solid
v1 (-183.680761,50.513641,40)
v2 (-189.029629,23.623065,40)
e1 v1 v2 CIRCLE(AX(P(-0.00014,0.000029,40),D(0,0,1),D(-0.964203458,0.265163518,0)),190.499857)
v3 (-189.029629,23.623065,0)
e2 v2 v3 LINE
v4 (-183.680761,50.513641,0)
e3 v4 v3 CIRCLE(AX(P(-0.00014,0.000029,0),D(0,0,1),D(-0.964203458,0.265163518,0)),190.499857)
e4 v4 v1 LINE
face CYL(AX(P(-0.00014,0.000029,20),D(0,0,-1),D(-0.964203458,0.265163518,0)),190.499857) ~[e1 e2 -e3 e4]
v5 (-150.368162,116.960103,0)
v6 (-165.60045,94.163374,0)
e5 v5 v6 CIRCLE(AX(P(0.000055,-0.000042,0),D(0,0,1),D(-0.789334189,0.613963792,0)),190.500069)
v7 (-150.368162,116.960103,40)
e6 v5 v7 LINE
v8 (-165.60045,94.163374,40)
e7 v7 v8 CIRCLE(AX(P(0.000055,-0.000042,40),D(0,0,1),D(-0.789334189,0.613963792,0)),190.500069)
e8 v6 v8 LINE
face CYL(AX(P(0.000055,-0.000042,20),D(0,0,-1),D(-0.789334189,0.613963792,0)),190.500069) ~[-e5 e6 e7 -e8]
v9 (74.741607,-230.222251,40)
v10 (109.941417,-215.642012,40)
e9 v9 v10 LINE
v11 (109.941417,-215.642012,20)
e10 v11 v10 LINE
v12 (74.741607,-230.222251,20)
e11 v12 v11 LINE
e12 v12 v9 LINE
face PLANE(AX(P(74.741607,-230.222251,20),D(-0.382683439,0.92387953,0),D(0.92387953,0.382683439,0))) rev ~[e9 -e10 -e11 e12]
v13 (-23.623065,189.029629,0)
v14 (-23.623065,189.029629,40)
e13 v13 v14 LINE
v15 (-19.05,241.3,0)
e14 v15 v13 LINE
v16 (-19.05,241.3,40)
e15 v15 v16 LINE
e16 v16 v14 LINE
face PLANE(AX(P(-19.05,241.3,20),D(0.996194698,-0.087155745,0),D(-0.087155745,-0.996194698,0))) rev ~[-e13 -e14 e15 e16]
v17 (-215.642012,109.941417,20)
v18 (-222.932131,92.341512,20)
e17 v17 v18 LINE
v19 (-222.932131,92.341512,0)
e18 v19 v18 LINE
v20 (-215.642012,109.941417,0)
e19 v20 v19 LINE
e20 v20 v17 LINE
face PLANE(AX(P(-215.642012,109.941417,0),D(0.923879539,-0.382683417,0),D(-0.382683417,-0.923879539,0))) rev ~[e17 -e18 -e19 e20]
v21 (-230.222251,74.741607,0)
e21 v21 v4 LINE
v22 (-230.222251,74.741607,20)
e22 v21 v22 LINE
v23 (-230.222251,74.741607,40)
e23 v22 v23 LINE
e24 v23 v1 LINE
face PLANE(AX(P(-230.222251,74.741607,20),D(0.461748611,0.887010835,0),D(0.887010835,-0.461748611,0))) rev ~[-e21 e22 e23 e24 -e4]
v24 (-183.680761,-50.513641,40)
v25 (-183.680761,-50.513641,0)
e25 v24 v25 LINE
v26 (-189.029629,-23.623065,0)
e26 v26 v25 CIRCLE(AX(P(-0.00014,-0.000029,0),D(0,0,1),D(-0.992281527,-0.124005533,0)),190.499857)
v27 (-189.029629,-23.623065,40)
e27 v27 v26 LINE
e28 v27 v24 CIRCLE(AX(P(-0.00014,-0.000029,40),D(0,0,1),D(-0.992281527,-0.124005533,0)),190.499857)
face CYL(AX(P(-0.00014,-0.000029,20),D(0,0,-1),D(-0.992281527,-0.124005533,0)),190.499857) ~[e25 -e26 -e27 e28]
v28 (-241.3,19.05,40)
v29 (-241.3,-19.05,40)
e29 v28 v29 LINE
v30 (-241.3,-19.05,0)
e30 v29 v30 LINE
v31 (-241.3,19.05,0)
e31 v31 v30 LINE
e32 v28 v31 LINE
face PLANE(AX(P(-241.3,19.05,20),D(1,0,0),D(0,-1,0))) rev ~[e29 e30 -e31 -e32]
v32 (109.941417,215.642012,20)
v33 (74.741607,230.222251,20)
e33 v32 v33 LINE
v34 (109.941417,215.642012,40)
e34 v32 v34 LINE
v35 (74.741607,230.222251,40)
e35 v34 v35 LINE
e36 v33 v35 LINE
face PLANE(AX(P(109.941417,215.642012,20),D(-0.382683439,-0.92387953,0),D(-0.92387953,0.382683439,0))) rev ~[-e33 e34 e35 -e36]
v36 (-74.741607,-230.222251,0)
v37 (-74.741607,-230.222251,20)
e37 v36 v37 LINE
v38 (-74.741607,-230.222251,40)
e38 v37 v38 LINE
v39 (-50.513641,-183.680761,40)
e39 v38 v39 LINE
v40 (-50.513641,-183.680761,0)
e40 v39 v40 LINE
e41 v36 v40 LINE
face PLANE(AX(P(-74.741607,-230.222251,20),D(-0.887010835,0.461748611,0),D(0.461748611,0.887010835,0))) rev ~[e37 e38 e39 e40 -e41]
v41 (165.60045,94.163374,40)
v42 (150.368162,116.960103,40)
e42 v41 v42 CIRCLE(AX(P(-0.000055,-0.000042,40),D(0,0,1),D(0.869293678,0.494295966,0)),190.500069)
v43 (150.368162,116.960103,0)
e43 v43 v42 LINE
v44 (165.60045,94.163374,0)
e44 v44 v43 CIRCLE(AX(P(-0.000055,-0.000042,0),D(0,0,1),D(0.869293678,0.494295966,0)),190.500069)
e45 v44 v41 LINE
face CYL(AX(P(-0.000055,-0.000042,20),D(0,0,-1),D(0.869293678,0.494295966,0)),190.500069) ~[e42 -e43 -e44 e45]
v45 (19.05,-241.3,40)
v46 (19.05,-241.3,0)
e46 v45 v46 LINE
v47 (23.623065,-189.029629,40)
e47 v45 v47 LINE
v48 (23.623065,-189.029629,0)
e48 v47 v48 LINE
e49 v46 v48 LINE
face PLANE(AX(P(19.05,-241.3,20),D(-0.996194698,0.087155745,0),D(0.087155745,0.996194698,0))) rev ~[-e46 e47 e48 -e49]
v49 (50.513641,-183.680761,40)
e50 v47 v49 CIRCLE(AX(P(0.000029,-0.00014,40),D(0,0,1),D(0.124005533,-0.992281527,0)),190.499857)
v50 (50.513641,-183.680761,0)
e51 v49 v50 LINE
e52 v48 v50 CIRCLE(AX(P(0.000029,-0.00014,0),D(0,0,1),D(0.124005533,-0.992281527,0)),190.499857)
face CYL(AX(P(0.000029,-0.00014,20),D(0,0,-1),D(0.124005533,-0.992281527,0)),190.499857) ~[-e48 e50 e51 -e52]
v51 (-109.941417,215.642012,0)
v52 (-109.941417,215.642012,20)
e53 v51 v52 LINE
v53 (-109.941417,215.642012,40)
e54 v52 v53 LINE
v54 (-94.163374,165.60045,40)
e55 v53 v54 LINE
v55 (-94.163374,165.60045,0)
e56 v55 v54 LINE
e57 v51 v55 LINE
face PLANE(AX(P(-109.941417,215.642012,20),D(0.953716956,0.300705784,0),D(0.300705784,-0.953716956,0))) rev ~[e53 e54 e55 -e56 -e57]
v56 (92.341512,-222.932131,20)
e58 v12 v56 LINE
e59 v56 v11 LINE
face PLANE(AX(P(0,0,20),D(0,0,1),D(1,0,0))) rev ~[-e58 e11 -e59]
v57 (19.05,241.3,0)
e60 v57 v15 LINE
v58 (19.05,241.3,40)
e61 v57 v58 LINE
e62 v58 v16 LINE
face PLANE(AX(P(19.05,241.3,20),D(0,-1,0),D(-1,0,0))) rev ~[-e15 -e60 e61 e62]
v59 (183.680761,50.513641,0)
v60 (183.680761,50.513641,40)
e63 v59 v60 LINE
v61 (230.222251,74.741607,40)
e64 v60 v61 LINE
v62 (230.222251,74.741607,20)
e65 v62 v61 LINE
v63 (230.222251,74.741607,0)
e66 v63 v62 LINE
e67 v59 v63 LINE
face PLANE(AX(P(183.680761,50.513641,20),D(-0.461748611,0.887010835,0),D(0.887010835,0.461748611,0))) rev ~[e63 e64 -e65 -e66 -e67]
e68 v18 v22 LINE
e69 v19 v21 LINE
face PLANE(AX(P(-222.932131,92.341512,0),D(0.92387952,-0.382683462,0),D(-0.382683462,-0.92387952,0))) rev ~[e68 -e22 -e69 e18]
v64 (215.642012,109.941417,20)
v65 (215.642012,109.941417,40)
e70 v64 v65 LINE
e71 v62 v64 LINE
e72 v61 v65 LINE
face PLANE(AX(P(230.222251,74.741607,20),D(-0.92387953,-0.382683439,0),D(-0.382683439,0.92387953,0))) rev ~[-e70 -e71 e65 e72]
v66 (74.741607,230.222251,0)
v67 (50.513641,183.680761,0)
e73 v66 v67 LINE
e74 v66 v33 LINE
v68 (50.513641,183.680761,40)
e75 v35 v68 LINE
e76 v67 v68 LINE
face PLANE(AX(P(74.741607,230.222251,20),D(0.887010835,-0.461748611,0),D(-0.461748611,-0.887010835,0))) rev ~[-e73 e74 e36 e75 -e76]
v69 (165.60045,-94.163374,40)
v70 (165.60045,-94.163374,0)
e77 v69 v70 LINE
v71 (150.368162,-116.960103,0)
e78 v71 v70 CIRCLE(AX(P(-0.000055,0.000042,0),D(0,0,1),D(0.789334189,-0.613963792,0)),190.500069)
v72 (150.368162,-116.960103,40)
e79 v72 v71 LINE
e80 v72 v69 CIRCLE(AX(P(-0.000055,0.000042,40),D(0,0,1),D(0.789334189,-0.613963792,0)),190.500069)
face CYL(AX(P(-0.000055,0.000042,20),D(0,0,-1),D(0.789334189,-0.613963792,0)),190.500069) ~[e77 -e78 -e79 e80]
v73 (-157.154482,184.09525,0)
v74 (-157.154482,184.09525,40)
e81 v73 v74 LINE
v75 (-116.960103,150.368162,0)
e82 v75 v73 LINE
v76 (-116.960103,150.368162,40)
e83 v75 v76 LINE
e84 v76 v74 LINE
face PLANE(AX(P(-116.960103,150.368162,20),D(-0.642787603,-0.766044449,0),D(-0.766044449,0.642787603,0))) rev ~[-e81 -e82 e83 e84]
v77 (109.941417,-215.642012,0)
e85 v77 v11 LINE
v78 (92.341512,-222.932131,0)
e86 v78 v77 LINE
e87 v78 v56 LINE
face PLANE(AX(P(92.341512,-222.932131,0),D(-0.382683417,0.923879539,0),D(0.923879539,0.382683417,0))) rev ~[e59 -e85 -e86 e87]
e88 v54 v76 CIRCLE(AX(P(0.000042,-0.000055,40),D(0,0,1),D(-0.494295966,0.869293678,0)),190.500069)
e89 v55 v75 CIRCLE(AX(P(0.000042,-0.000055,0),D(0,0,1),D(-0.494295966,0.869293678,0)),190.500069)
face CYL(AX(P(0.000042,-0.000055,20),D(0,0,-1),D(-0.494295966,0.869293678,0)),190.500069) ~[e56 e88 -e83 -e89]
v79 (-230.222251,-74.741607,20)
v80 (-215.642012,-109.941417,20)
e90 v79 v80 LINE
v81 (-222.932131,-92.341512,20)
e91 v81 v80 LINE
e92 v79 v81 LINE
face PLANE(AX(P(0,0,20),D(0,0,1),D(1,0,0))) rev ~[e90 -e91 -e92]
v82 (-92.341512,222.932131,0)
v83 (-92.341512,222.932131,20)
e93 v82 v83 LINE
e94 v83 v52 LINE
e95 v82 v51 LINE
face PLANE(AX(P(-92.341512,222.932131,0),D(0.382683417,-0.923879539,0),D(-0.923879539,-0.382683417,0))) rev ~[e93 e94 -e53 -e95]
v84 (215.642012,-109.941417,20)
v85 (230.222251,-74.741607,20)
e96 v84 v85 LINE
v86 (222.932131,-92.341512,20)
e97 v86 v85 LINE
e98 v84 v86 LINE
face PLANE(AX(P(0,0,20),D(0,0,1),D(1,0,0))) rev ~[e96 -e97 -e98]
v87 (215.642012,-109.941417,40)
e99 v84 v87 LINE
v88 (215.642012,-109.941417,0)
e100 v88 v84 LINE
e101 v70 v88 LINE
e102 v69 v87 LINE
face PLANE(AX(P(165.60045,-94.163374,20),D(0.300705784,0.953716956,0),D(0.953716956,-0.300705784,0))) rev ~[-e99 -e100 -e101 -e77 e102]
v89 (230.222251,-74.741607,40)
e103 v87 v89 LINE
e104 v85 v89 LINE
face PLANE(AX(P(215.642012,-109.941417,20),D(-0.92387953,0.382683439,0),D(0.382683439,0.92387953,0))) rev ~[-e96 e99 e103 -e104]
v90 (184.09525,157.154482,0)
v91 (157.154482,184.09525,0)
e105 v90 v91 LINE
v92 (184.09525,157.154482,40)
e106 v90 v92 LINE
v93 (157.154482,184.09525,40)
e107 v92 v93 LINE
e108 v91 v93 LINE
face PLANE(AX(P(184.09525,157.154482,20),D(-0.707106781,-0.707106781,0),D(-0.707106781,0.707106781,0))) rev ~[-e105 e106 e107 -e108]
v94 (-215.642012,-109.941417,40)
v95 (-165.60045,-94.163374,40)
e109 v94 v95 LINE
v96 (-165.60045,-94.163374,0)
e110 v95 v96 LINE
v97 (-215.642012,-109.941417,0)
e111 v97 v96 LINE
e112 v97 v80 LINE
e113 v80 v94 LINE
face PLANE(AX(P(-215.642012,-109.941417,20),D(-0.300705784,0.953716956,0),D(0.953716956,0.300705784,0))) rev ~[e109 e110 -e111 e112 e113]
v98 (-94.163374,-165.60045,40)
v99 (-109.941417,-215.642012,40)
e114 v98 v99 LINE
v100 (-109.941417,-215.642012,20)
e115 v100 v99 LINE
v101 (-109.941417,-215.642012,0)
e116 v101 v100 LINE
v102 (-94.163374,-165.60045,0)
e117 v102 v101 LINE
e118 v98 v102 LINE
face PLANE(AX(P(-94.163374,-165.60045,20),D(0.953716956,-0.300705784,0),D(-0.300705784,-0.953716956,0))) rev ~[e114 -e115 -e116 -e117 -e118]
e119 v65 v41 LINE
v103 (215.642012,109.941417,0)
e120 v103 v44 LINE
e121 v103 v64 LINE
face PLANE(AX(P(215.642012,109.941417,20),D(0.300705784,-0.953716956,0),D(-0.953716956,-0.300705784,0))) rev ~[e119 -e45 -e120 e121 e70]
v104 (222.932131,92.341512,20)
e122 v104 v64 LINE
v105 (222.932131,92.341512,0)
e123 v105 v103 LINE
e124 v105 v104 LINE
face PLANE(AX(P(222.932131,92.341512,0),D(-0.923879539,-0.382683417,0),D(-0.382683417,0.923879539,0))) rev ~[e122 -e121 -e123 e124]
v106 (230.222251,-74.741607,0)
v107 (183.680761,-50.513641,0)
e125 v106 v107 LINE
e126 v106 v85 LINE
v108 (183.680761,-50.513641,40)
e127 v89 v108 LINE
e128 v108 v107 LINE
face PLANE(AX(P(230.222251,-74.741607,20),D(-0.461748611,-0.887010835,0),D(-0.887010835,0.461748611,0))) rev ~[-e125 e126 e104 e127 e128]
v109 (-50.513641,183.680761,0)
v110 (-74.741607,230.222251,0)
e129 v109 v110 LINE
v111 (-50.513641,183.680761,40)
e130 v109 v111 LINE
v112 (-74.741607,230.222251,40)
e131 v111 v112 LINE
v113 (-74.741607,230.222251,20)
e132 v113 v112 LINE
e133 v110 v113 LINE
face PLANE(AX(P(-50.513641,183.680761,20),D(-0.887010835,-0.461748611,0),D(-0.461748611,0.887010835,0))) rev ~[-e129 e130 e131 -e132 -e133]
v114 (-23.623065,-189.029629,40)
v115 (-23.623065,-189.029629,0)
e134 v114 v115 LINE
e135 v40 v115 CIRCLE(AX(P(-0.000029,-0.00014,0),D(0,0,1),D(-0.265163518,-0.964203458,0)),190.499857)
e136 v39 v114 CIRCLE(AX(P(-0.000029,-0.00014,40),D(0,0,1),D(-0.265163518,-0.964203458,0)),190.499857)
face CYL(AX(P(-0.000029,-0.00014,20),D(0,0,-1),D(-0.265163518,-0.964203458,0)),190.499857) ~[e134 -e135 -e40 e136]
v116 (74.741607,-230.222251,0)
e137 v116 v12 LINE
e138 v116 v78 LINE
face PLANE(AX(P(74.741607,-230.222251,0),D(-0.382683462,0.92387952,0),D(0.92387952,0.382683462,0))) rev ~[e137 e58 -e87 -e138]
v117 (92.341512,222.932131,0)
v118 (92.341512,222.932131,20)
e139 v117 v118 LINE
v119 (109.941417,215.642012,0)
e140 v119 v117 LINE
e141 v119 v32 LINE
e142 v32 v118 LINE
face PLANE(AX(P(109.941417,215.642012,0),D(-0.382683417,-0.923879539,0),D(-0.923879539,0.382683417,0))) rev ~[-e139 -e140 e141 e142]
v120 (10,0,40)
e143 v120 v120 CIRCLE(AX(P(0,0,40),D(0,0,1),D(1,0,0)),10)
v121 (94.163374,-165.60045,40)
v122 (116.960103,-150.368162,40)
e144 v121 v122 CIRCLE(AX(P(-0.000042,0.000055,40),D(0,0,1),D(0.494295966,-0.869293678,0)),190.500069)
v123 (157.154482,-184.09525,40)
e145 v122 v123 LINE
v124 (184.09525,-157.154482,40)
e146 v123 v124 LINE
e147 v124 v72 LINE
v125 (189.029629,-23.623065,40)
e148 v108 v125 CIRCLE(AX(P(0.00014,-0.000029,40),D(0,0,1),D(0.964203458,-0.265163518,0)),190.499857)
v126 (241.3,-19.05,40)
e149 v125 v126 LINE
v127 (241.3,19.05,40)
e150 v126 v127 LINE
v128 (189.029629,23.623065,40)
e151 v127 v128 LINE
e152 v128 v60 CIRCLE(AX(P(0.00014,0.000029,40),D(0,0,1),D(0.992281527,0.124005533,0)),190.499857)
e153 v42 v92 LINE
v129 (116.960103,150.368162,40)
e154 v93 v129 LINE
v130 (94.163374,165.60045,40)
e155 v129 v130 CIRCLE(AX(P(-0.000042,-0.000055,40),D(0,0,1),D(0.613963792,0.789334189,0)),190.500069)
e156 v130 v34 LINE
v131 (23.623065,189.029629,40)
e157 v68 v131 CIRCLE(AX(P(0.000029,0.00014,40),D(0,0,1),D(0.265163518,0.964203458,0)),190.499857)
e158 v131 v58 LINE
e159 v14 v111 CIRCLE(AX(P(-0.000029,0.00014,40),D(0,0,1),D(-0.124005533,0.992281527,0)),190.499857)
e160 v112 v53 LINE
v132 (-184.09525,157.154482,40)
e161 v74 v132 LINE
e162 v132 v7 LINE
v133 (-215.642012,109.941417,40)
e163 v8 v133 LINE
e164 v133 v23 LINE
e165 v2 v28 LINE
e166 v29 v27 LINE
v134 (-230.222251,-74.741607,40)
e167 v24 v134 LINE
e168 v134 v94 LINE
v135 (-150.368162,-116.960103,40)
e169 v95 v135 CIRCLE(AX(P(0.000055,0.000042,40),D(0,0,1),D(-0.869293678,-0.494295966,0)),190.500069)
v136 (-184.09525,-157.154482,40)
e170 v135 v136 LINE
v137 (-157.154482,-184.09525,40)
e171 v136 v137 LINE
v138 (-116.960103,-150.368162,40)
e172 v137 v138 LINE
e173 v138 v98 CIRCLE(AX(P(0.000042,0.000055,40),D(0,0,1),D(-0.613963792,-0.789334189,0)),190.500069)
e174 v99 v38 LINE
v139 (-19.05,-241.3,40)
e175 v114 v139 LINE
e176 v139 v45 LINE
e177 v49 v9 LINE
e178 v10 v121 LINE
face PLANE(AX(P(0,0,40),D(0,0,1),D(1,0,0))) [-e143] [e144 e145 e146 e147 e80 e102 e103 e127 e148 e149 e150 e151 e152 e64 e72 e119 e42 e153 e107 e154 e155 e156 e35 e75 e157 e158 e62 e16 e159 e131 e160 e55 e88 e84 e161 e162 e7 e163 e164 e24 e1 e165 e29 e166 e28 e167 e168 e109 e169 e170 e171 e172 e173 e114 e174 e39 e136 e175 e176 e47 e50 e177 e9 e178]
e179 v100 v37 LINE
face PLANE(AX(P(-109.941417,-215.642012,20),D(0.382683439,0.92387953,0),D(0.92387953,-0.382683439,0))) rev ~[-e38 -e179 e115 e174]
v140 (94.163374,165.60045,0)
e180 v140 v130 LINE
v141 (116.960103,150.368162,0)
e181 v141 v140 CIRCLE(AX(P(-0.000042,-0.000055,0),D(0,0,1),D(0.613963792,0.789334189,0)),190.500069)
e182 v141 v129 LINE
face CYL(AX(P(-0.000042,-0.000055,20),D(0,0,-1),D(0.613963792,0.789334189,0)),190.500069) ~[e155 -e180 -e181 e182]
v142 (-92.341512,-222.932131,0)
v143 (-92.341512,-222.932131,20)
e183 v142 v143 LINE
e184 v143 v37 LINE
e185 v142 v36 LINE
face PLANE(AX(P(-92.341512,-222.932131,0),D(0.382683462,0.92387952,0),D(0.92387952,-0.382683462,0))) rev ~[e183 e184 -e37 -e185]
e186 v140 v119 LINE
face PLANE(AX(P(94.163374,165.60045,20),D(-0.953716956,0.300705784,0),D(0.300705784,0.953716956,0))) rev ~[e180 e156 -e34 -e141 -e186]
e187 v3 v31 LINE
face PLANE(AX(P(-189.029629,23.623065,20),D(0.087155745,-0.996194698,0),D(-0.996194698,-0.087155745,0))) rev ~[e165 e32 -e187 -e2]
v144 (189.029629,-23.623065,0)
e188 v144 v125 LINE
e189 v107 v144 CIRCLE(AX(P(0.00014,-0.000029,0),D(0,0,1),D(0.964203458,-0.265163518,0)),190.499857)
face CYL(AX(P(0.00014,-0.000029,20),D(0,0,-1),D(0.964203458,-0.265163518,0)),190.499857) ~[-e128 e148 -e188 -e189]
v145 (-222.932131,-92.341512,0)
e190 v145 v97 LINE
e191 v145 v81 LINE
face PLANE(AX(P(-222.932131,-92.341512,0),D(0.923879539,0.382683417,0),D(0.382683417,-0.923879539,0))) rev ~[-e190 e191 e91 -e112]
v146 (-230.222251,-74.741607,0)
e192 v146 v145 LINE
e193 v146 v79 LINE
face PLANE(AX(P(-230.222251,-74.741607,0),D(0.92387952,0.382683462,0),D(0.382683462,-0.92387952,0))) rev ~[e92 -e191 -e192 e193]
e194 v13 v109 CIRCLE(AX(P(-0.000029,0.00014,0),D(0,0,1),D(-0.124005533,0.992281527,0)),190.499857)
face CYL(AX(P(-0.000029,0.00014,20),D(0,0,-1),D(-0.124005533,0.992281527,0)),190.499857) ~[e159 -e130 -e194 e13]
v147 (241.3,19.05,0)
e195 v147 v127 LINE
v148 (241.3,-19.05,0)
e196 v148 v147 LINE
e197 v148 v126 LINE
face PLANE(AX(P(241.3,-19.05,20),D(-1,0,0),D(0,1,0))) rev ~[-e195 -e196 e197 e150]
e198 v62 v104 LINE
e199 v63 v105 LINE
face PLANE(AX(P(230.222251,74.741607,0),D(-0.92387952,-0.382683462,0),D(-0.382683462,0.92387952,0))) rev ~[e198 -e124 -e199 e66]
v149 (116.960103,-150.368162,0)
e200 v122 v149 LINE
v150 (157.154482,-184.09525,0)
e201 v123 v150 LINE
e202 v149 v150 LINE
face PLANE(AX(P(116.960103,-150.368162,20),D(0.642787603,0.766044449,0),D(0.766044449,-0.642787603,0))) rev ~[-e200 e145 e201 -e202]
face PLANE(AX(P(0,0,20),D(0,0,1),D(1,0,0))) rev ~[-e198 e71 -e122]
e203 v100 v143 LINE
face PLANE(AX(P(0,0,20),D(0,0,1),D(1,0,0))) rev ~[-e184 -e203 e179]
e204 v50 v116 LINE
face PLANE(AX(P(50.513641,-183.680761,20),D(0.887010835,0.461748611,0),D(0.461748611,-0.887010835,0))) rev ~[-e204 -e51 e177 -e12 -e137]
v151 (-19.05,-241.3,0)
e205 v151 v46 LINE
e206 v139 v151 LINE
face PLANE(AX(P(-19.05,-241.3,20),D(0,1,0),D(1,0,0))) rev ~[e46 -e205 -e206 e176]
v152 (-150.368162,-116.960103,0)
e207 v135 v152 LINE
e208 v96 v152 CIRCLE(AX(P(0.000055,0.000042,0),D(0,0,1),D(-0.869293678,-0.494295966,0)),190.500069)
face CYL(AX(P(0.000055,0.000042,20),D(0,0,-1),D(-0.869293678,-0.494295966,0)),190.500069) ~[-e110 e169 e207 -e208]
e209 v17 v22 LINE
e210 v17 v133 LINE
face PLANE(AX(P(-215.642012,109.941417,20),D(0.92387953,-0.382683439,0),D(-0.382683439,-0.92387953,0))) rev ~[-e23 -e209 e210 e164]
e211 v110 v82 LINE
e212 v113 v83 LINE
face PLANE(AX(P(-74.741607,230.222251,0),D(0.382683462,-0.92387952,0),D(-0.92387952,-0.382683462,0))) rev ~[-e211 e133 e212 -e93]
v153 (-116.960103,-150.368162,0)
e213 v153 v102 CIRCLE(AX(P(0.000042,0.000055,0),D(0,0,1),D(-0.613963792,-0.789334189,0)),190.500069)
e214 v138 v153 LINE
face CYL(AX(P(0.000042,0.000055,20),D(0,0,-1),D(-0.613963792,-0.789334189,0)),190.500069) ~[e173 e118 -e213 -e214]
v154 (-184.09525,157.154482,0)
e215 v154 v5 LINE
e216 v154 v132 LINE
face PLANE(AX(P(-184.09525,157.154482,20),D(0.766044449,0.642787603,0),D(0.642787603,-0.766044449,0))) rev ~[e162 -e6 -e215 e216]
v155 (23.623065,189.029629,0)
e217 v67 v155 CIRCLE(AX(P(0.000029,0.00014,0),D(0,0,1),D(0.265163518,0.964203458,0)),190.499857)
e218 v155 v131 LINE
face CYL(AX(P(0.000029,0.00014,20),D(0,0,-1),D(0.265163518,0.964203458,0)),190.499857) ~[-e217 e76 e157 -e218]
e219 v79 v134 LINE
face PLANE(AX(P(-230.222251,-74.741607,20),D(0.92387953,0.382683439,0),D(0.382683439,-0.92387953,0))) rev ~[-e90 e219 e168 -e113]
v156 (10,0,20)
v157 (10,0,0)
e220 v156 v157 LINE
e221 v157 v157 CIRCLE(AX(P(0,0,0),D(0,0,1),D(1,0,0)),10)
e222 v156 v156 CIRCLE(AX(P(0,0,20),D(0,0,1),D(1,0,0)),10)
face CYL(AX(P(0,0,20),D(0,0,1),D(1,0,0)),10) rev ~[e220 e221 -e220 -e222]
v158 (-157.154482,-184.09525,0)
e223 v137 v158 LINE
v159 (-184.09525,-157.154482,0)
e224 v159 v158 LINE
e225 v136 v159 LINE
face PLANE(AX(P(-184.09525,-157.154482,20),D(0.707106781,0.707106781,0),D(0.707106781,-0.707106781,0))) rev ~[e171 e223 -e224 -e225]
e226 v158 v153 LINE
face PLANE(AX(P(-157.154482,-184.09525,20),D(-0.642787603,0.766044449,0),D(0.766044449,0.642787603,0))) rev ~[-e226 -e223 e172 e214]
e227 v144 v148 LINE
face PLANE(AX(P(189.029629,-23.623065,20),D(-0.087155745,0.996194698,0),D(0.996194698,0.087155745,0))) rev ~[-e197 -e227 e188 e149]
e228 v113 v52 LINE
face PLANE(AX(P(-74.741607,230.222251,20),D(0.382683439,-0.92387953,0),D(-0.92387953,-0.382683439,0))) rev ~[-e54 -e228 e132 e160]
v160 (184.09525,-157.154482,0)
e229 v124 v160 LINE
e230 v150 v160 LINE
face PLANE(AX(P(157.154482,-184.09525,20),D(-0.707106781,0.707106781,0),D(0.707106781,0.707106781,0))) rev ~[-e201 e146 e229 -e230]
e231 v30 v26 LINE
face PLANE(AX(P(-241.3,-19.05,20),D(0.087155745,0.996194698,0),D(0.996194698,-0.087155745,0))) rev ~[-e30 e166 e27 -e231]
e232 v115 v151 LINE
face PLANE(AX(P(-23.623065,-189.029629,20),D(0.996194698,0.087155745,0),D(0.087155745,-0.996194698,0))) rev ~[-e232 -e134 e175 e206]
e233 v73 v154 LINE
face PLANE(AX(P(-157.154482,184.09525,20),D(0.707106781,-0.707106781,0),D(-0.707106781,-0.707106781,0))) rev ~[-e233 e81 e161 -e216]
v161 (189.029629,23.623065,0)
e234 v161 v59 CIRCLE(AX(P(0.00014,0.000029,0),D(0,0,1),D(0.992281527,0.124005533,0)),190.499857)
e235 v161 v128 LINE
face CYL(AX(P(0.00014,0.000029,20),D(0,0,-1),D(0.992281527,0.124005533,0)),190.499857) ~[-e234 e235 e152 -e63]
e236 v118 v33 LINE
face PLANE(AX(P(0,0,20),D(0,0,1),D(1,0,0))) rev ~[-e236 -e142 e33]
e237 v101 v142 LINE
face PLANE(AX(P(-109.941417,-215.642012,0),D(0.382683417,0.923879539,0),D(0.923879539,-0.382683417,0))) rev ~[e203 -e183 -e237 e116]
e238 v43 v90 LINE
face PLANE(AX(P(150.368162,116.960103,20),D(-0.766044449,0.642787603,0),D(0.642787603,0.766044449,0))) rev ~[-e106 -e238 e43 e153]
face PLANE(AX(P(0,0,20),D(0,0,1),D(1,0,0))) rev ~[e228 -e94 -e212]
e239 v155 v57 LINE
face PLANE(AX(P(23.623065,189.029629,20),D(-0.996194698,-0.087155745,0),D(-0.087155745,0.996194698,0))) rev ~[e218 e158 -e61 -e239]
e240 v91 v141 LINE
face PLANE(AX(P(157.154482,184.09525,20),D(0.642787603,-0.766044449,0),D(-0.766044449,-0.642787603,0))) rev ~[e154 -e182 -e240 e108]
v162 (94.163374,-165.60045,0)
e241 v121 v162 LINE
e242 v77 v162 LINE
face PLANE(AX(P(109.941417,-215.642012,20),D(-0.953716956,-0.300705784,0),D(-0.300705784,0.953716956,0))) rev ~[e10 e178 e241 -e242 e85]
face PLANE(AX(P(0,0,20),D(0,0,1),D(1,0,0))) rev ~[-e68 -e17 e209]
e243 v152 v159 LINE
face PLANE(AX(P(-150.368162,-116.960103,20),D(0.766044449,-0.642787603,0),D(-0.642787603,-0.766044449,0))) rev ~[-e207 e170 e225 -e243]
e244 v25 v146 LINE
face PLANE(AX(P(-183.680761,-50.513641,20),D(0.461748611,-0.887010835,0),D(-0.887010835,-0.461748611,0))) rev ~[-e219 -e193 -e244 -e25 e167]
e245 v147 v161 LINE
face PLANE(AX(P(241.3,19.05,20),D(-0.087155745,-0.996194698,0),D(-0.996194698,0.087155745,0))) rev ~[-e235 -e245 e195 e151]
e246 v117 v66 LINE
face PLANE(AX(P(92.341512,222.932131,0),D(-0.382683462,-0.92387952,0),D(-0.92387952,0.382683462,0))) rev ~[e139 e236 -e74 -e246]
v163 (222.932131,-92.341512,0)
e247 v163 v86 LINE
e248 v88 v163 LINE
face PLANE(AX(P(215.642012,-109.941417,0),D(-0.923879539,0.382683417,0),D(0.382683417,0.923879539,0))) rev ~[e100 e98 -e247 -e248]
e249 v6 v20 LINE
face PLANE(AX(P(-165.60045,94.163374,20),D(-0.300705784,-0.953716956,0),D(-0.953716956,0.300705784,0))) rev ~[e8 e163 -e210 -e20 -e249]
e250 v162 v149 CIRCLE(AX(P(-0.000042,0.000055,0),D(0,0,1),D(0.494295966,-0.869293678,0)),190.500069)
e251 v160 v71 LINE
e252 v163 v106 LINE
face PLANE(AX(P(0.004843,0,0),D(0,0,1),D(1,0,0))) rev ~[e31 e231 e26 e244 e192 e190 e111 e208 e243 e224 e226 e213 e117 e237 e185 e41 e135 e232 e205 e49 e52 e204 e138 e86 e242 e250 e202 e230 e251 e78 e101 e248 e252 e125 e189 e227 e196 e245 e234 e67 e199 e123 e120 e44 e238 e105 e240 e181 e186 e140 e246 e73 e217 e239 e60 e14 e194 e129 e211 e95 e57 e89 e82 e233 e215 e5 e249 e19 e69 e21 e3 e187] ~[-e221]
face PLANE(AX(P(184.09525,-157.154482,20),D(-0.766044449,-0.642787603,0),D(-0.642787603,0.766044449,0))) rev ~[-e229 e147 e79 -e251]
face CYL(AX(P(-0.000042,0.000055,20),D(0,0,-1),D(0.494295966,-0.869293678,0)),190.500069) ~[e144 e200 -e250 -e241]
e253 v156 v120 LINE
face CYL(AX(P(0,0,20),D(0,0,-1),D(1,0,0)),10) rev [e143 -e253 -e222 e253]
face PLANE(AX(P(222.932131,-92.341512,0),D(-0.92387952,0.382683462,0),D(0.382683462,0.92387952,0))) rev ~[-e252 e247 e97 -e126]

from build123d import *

# Parameters (mm, degrees)
F1_DEPTH  = 20
F2_R      = 10
F3_DEPTH  = 20.001
F1_FACE_R = 10
F4_DEPTH  = 20


with BuildPart() as f1:
    # F0 (on Top) → F1 (new body)
    with BuildSketch(Plane.XY):
        with BuildLine():
            ThreePointArc((189.029629, -23.623065), (190.132052, -11.83439), (190.5, 0))
            ThreePointArc((190.5, 0), (190.132052, 11.83439), (189.029629, 23.623065))
            ThreePointArc((189.029629, 23.623065), (186.839596, 37.164706), (183.680761, 50.513641))
            ThreePointArc((183.680761, 50.513641), (175.999051, 72.901194), (165.60045, 94.163374))
            ThreePointArc((165.60045, 94.163374), (158.394961, 105.836129), (150.368162, 116.960103))
            ThreePointArc((150.368162, 116.960103), (134.703842, 134.703842), (116.960103, 150.368162))
            ThreePointArc((116.960103, 150.368162), (105.836129, 158.394961), (94.163374, 165.60045))
            ThreePointArc((94.163374, 165.60045), (72.901194, 175.999051), (50.513641, 183.680761))
            ThreePointArc((50.513641, 183.680761), (37.164706, 186.839596), (23.623065, 189.029629))
            ThreePointArc((23.623065, 189.029629), (0, 190.5), (-23.623065, 189.029629))
            ThreePointArc((-23.623065, 189.029629), (-37.164706, 186.839596), (-50.513641, 183.680761))
            ThreePointArc((-50.513641, 183.680761), (-72.901194, 175.999051), (-94.163374, 165.60045))
            ThreePointArc((-94.163374, 165.60045), (-105.836129, 158.394961), (-116.960103, 150.368162))
            ThreePointArc((-116.960103, 150.368162), (-134.703842, 134.703842), (-150.368162, 116.960103))
            ThreePointArc((-150.368162, 116.960103), (-158.394961, 105.836129), (-165.60045, 94.163374))
            ThreePointArc((-165.60045, 94.163374), (-175.999051, 72.901194), (-183.680761, 50.513641))
            ThreePointArc((-183.680761, 50.513641), (-186.839596, 37.164706), (-189.029629, 23.623065))
            ThreePointArc((-189.029629, 23.623065), (-190.5, 0), (-189.029629, -23.623065))
            ThreePointArc((-189.029629, -23.623065), (-186.839596, -37.164706), (-183.680761, -50.513641))
            ThreePointArc((-183.680761, -50.513641), (-175.999051, -72.901194), (-165.60045, -94.163374))
            ThreePointArc((-165.60045, -94.163374), (-158.394961, -105.836129), (-150.368162, -116.960103))
            ThreePointArc((-150.368162, -116.960103), (-134.703842, -134.703842), (-116.960103, -150.368162))
            ThreePointArc((-116.960103, -150.368162), (-105.836129, -158.394961), (-94.163374, -165.60045))
            ThreePointArc((-94.163374, -165.60045), (-72.901194, -175.999051), (-50.513641, -183.680761))
            ThreePointArc((-50.513641, -183.680761), (-37.164706, -186.839596), (-23.623065, -189.029629))
            ThreePointArc((-23.623065, -189.029629), (0, -190.5), (23.623065, -189.029629))
            ThreePointArc((23.623065, -189.029629), (37.164706, -186.839596), (50.513641, -183.680761))
            ThreePointArc((50.513641, -183.680761), (72.901194, -175.999051), (94.163374, -165.60045))
            ThreePointArc((94.163374, -165.60045), (105.836129, -158.394961), (116.960103, -150.368162))
            ThreePointArc((116.960103, -150.368162), (134.703842, -134.703842), (150.368162, -116.960103))
            ThreePointArc((150.368162, -116.960103), (158.394961, -105.836129), (165.60045, -94.163374))
            ThreePointArc((165.60045, -94.163374), (175.999051, -72.901194), (183.680761, -50.513641))
            ThreePointArc((183.680761, -50.513641), (186.839596, -37.164706), (189.029629, -23.623065))
        make_face()
        with BuildLine():
            ThreePointArc((189.029629, 23.623065), (190.132052, 11.83439), (190.5, 0))
            ThreePointArc((190.5, 0), (190.132052, -11.83439), (189.029629, -23.623065))
            Line((189.029629, -23.623065), (241.3, -19.05))
            Line((241.3, -19.05), (241.3, 0))
            Line((241.3, 0), (241.3, 19.05))
            Line((241.3, 19.05), (189.029629, 23.623065))
        make_face()
        with BuildLine():
            ThreePointArc((165.60045, 94.163374), (175.999051, 72.901194), (183.680761, 50.513641))
            Line((183.680761, 50.513641), (230.222251, 74.741607))
            Line((230.222251, 74.741607), (222.932131, 92.341512))
            Line((222.932131, 92.341512), (215.642012, 109.941417))
            Line((215.642012, 109.941417), (165.60045, 94.163374))
        make_face()
        with BuildLine():
            Line((230.222251, -74.741607), (183.680761, -50.513641))
            ThreePointArc((183.680761, -50.513641), (175.999051, -72.901194), (165.60045, -94.163374))
            Line((165.60045, -94.163374), (215.642012, -109.941417))
            Line((215.642012, -109.941417), (222.932131, -92.341512))
            Line((222.932131, -92.341512), (230.222251, -74.741607))
        make_face()
        with BuildLine():
            ThreePointArc((116.960103, 150.368162), (134.703842, 134.703842), (150.368162, 116.960103))
            Line((150.368162, 116.960103), (184.09525, 157.154482))
            Line((184.09525, 157.154482), (170.624866, 170.624866))
            Line((170.624866, 170.624866), (157.154482, 184.09525))
            Line((157.154482, 184.09525), (116.960103, 150.368162))
        make_face()
        with BuildLine():
            Line((184.09525, -157.154482), (150.368162, -116.960103))
            ThreePointArc((150.368162, -116.960103), (134.703842, -134.703842), (116.960103, -150.368162))
            Line((116.960103, -150.368162), (157.154482, -184.09525))
            Line((157.154482, -184.09525), (170.624866, -170.624866))
            Line((170.624866, -170.624866), (184.09525, -157.154482))
        make_face()
        with BuildLine():
            ThreePointArc((50.513641, 183.680761), (72.901194, 175.999051), (94.163374, 165.60045))
            Line((94.163374, 165.60045), (109.941417, 215.642012))
            Line((109.941417, 215.642012), (92.341512, 222.932131))
            Line((92.341512, 222.932131), (74.741607, 230.222251))
            Line((74.741607, 230.222251), (50.513641, 183.680761))
        make_face()
        with BuildLine():
            Line((109.941417, -215.642012), (94.163374, -165.60045))
            ThreePointArc((94.163374, -165.60045), (72.901194, -175.999051), (50.513641, -183.680761))
            Line((50.513641, -183.680761), (74.741607, -230.222251))
            Line((74.741607, -230.222251), (92.341512, -222.932131))
            Line((92.341512, -222.932131), (109.941417, -215.642012))
        make_face()
        with BuildLine():
            ThreePointArc((-23.623065, 189.029629), (0, 190.5), (23.623065, 189.029629))
            Line((23.623065, 189.029629), (19.05, 241.3))
            Line((19.05, 241.3), (0, 241.3))
            Line((0, 241.3), (-19.05, 241.3))
            Line((-19.05, 241.3), (-23.623065, 189.029629))
        make_face()
        with BuildLine():
            Line((19.05, -241.3), (23.623065, -189.029629))
            ThreePointArc((23.623065, -189.029629), (0, -190.5), (-23.623065, -189.029629))
            Line((-23.623065, -189.029629), (-19.05, -241.3))
            Line((-19.05, -241.3), (0, -241.3))
            Line((0, -241.3), (19.05, -241.3))
        make_face()
        with BuildLine():
            ThreePointArc((-94.163374, 165.60045), (-72.901194, 175.999051), (-50.513641, 183.680761))
            Line((-50.513641, 183.680761), (-74.741607, 230.222251))
            Line((-74.741607, 230.222251), (-92.341512, 222.932131))
            Line((-92.341512, 222.932131), (-109.941417, 215.642012))
            Line((-109.941417, 215.642012), (-94.163374, 165.60045))
        make_face()
        with BuildLine():
            Line((-74.741607, -230.222251), (-50.513641, -183.680761))
            ThreePointArc((-50.513641, -183.680761), (-72.901194, -175.999051), (-94.163374, -165.60045))
            Line((-94.163374, -165.60045), (-109.941417, -215.642012))
            Line((-109.941417, -215.642012), (-92.341512, -222.932131))
            Line((-92.341512, -222.932131), (-74.741607, -230.222251))
        make_face()
        with BuildLine():
            ThreePointArc((-150.368162, 116.960103), (-134.703842, 134.703842), (-116.960103, 150.368162))
            Line((-116.960103, 150.368162), (-157.154482, 184.09525))
            Line((-157.154482, 184.09525), (-170.624866, 170.624866))
            Line((-170.624866, 170.624866), (-184.09525, 157.154482))
            Line((-184.09525, 157.154482), (-150.368162, 116.960103))
        make_face()
        with BuildLine():
            Line((-157.154482, -184.09525), (-116.960103, -150.368162))
            ThreePointArc((-116.960103, -150.368162), (-134.703842, -134.703842), (-150.368162, -116.960103))
            Line((-150.368162, -116.960103), (-184.09525, -157.154482))
            Line((-184.09525, -157.154482), (-170.624866, -170.624866))
            Line((-170.624866, -170.624866), (-157.154482, -184.09525))
        make_face()
        with BuildLine():
            ThreePointArc((-183.680761, 50.513641), (-175.999051, 72.901194), (-165.60045, 94.163374))
            Line((-165.60045, 94.163374), (-215.642012, 109.941417))
            Line((-215.642012, 109.941417), (-222.932131, 92.341512))
            Line((-222.932131, 92.341512), (-230.222251, 74.741607))
            Line((-230.222251, 74.741607), (-183.680761, 50.513641))
        make_face()
        with BuildLine():
            Line((-215.642012, -109.941417), (-165.60045, -94.163374))
            ThreePointArc((-165.60045, -94.163374), (-175.999051, -72.901194), (-183.680761, -50.513641))
            Line((-183.680761, -50.513641), (-230.222251, -74.741607))
            Line((-230.222251, -74.741607), (-222.932131, -92.341512))
            Line((-222.932131, -92.341512), (-215.642012, -109.941417))
        make_face()
        with BuildLine():
            ThreePointArc((-189.029629, -23.623065), (-190.5, 0), (-189.029629, 23.623065))
            Line((-189.029629, 23.623065), (-241.3, 19.05))
            Line((-241.3, 19.05), (-241.3, 0))
            Line((-241.3, 0), (-241.3, -19.05))
            Line((-241.3, -19.05), (-189.029629, -23.623065))
        make_face()
    extrude(amount=F1_DEPTH)

    # F2 (on face) → F3 (cut, through all)
    with BuildSketch(Plane.XY.offset(20)):
        Circle(F2_R)
    extrude(amount=-F3_DEPTH, mode=Mode.SUBTRACT)

    # F1_face (on face) → F4 (join)
    with BuildSketch(Plane.XY.offset(20)):
        with BuildLine():
            ThreePointArc((183.680761, -50.513641), (186.839596, -37.164706), (189.029629, -23.623065))
            Line((189.029629, -23.623065), (241.3, -19.05))
            Line((241.3, -19.05), (241.3, 19.05))
            Line((241.3, 19.05), (189.029629, 23.623065))
            ThreePointArc((189.029629, 23.623065), (186.839596, 37.164706), (183.680761, 50.513641))
            Line((183.680761, 50.513641), (230.222251, 74.741607))
            Line((230.222251, 74.741607), (215.642012, 109.941417))
            Line((215.642012, 109.941417), (165.60045, 94.163374))
            ThreePointArc((165.60045, 94.163374), (158.394961, 105.836129), (150.368162, 116.960103))
            Line((150.368162, 116.960103), (184.09525, 157.154482))
            Line((184.09525, 157.154482), (157.154482, 184.09525))
            Line((157.154482, 184.09525), (116.960103, 150.368162))
            ThreePointArc((116.960103, 150.368162), (105.836129, 158.394961), (94.163374, 165.60045))
            Line((94.163374, 165.60045), (109.941417, 215.642012))
            Line((109.941417, 215.642012), (74.741607, 230.222251))
            Line((74.741607, 230.222251), (50.513641, 183.680761))
            ThreePointArc((50.513641, 183.680761), (37.164706, 186.839596), (23.623065, 189.029629))
            Line((23.623065, 189.029629), (19.05, 241.3))
            Line((19.05, 241.3), (-19.05, 241.3))
            Line((-19.05, 241.3), (-23.623065, 189.029629))
            ThreePointArc((-23.623065, 189.029629), (-37.164706, 186.839596), (-50.513641, 183.680761))
            Line((-50.513641, 183.680761), (-74.741607, 230.222251))
            Line((-74.741607, 230.222251), (-109.941417, 215.642012))
            Line((-109.941417, 215.642012), (-94.163374, 165.60045))
            ThreePointArc((-94.163374, 165.60045), (-105.836129, 158.394961), (-116.960103, 150.368162))
            Line((-116.960103, 150.368162), (-157.154482, 184.09525))
            Line((-157.154482, 184.09525), (-184.09525, 157.154482))
            Line((-184.09525, 157.154482), (-150.368162, 116.960103))
            ThreePointArc((-150.368162, 116.960103), (-158.394961, 105.836129), (-165.60045, 94.163374))
            Line((-165.60045, 94.163374), (-215.642012, 109.941417))
            Line((-215.642012, 109.941417), (-230.222251, 74.741607))
            Line((-230.222251, 74.741607), (-183.680761, 50.513641))
            ThreePointArc((-183.680761, 50.513641), (-186.839596, 37.164706), (-189.029629, 23.623065))
            Line((-189.029629, 23.623065), (-241.3, 19.05))
            Line((-241.3, 19.05), (-241.3, -19.05))
            Line((-241.3, -19.05), (-189.029629, -23.623065))
            ThreePointArc((-189.029629, -23.623065), (-186.839596, -37.164706), (-183.680761, -50.513641))
            Line((-183.680761, -50.513641), (-230.222251, -74.741607))
            Line((-230.222251, -74.741607), (-215.642012, -109.941417))
            Line((-215.642012, -109.941417), (-165.60045, -94.163374))
            ThreePointArc((-165.60045, -94.163374), (-158.394961, -105.836129), (-150.368162, -116.960103))
            Line((-150.368162, -116.960103), (-184.09525, -157.154482))
            Line((-184.09525, -157.154482), (-157.154482, -184.09525))
            Line((-157.154482, -184.09525), (-116.960103, -150.368162))
            ThreePointArc((-116.960103, -150.368162), (-105.836129, -158.394961), (-94.163374, -165.60045))
            Line((-94.163374, -165.60045), (-109.941417, -215.642012))
            Line((-109.941417, -215.642012), (-74.741607, -230.222251))
            Line((-74.741607, -230.222251), (-50.513641, -183.680761))
            ThreePointArc((-50.513641, -183.680761), (-37.164706, -186.839596), (-23.623065, -189.029629))
            Line((-23.623065, -189.029629), (-19.05, -241.3))
            Line((-19.05, -241.3), (19.05, -241.3))
            Line((19.05, -241.3), (23.623065, -189.029629))
            ThreePointArc((23.623065, -189.029629), (37.164706, -186.839596), (50.513641, -183.680761))
            Line((50.513641, -183.680761), (74.741607, -230.222251))
            Line((74.741607, -230.222251), (109.941417, -215.642012))
            Line((109.941417, -215.642012), (94.163374, -165.60045))
            ThreePointArc((94.163374, -165.60045), (105.836129, -158.394961), (116.960103, -150.368162))
            Line((116.960103, -150.368162), (157.154482, -184.09525))
            Line((157.154482, -184.09525), (184.09525, -157.154482))
            Line((184.09525, -157.154482), (150.368162, -116.960103))
            ThreePointArc((150.368162, -116.960103), (158.394961, -105.836129), (165.60045, -94.163374))
            Line((165.60045, -94.163374), (215.642012, -109.941417))
            Line((215.642012, -109.941417), (230.222251, -74.741607))
            Line((230.222251, -74.741607), (183.680761, -50.513641))
        make_face()
        Circle(F1_FACE_R, mode=Mode.SUBTRACT)
    extrude(amount=F4_DEPTH)


solid = f1.part
